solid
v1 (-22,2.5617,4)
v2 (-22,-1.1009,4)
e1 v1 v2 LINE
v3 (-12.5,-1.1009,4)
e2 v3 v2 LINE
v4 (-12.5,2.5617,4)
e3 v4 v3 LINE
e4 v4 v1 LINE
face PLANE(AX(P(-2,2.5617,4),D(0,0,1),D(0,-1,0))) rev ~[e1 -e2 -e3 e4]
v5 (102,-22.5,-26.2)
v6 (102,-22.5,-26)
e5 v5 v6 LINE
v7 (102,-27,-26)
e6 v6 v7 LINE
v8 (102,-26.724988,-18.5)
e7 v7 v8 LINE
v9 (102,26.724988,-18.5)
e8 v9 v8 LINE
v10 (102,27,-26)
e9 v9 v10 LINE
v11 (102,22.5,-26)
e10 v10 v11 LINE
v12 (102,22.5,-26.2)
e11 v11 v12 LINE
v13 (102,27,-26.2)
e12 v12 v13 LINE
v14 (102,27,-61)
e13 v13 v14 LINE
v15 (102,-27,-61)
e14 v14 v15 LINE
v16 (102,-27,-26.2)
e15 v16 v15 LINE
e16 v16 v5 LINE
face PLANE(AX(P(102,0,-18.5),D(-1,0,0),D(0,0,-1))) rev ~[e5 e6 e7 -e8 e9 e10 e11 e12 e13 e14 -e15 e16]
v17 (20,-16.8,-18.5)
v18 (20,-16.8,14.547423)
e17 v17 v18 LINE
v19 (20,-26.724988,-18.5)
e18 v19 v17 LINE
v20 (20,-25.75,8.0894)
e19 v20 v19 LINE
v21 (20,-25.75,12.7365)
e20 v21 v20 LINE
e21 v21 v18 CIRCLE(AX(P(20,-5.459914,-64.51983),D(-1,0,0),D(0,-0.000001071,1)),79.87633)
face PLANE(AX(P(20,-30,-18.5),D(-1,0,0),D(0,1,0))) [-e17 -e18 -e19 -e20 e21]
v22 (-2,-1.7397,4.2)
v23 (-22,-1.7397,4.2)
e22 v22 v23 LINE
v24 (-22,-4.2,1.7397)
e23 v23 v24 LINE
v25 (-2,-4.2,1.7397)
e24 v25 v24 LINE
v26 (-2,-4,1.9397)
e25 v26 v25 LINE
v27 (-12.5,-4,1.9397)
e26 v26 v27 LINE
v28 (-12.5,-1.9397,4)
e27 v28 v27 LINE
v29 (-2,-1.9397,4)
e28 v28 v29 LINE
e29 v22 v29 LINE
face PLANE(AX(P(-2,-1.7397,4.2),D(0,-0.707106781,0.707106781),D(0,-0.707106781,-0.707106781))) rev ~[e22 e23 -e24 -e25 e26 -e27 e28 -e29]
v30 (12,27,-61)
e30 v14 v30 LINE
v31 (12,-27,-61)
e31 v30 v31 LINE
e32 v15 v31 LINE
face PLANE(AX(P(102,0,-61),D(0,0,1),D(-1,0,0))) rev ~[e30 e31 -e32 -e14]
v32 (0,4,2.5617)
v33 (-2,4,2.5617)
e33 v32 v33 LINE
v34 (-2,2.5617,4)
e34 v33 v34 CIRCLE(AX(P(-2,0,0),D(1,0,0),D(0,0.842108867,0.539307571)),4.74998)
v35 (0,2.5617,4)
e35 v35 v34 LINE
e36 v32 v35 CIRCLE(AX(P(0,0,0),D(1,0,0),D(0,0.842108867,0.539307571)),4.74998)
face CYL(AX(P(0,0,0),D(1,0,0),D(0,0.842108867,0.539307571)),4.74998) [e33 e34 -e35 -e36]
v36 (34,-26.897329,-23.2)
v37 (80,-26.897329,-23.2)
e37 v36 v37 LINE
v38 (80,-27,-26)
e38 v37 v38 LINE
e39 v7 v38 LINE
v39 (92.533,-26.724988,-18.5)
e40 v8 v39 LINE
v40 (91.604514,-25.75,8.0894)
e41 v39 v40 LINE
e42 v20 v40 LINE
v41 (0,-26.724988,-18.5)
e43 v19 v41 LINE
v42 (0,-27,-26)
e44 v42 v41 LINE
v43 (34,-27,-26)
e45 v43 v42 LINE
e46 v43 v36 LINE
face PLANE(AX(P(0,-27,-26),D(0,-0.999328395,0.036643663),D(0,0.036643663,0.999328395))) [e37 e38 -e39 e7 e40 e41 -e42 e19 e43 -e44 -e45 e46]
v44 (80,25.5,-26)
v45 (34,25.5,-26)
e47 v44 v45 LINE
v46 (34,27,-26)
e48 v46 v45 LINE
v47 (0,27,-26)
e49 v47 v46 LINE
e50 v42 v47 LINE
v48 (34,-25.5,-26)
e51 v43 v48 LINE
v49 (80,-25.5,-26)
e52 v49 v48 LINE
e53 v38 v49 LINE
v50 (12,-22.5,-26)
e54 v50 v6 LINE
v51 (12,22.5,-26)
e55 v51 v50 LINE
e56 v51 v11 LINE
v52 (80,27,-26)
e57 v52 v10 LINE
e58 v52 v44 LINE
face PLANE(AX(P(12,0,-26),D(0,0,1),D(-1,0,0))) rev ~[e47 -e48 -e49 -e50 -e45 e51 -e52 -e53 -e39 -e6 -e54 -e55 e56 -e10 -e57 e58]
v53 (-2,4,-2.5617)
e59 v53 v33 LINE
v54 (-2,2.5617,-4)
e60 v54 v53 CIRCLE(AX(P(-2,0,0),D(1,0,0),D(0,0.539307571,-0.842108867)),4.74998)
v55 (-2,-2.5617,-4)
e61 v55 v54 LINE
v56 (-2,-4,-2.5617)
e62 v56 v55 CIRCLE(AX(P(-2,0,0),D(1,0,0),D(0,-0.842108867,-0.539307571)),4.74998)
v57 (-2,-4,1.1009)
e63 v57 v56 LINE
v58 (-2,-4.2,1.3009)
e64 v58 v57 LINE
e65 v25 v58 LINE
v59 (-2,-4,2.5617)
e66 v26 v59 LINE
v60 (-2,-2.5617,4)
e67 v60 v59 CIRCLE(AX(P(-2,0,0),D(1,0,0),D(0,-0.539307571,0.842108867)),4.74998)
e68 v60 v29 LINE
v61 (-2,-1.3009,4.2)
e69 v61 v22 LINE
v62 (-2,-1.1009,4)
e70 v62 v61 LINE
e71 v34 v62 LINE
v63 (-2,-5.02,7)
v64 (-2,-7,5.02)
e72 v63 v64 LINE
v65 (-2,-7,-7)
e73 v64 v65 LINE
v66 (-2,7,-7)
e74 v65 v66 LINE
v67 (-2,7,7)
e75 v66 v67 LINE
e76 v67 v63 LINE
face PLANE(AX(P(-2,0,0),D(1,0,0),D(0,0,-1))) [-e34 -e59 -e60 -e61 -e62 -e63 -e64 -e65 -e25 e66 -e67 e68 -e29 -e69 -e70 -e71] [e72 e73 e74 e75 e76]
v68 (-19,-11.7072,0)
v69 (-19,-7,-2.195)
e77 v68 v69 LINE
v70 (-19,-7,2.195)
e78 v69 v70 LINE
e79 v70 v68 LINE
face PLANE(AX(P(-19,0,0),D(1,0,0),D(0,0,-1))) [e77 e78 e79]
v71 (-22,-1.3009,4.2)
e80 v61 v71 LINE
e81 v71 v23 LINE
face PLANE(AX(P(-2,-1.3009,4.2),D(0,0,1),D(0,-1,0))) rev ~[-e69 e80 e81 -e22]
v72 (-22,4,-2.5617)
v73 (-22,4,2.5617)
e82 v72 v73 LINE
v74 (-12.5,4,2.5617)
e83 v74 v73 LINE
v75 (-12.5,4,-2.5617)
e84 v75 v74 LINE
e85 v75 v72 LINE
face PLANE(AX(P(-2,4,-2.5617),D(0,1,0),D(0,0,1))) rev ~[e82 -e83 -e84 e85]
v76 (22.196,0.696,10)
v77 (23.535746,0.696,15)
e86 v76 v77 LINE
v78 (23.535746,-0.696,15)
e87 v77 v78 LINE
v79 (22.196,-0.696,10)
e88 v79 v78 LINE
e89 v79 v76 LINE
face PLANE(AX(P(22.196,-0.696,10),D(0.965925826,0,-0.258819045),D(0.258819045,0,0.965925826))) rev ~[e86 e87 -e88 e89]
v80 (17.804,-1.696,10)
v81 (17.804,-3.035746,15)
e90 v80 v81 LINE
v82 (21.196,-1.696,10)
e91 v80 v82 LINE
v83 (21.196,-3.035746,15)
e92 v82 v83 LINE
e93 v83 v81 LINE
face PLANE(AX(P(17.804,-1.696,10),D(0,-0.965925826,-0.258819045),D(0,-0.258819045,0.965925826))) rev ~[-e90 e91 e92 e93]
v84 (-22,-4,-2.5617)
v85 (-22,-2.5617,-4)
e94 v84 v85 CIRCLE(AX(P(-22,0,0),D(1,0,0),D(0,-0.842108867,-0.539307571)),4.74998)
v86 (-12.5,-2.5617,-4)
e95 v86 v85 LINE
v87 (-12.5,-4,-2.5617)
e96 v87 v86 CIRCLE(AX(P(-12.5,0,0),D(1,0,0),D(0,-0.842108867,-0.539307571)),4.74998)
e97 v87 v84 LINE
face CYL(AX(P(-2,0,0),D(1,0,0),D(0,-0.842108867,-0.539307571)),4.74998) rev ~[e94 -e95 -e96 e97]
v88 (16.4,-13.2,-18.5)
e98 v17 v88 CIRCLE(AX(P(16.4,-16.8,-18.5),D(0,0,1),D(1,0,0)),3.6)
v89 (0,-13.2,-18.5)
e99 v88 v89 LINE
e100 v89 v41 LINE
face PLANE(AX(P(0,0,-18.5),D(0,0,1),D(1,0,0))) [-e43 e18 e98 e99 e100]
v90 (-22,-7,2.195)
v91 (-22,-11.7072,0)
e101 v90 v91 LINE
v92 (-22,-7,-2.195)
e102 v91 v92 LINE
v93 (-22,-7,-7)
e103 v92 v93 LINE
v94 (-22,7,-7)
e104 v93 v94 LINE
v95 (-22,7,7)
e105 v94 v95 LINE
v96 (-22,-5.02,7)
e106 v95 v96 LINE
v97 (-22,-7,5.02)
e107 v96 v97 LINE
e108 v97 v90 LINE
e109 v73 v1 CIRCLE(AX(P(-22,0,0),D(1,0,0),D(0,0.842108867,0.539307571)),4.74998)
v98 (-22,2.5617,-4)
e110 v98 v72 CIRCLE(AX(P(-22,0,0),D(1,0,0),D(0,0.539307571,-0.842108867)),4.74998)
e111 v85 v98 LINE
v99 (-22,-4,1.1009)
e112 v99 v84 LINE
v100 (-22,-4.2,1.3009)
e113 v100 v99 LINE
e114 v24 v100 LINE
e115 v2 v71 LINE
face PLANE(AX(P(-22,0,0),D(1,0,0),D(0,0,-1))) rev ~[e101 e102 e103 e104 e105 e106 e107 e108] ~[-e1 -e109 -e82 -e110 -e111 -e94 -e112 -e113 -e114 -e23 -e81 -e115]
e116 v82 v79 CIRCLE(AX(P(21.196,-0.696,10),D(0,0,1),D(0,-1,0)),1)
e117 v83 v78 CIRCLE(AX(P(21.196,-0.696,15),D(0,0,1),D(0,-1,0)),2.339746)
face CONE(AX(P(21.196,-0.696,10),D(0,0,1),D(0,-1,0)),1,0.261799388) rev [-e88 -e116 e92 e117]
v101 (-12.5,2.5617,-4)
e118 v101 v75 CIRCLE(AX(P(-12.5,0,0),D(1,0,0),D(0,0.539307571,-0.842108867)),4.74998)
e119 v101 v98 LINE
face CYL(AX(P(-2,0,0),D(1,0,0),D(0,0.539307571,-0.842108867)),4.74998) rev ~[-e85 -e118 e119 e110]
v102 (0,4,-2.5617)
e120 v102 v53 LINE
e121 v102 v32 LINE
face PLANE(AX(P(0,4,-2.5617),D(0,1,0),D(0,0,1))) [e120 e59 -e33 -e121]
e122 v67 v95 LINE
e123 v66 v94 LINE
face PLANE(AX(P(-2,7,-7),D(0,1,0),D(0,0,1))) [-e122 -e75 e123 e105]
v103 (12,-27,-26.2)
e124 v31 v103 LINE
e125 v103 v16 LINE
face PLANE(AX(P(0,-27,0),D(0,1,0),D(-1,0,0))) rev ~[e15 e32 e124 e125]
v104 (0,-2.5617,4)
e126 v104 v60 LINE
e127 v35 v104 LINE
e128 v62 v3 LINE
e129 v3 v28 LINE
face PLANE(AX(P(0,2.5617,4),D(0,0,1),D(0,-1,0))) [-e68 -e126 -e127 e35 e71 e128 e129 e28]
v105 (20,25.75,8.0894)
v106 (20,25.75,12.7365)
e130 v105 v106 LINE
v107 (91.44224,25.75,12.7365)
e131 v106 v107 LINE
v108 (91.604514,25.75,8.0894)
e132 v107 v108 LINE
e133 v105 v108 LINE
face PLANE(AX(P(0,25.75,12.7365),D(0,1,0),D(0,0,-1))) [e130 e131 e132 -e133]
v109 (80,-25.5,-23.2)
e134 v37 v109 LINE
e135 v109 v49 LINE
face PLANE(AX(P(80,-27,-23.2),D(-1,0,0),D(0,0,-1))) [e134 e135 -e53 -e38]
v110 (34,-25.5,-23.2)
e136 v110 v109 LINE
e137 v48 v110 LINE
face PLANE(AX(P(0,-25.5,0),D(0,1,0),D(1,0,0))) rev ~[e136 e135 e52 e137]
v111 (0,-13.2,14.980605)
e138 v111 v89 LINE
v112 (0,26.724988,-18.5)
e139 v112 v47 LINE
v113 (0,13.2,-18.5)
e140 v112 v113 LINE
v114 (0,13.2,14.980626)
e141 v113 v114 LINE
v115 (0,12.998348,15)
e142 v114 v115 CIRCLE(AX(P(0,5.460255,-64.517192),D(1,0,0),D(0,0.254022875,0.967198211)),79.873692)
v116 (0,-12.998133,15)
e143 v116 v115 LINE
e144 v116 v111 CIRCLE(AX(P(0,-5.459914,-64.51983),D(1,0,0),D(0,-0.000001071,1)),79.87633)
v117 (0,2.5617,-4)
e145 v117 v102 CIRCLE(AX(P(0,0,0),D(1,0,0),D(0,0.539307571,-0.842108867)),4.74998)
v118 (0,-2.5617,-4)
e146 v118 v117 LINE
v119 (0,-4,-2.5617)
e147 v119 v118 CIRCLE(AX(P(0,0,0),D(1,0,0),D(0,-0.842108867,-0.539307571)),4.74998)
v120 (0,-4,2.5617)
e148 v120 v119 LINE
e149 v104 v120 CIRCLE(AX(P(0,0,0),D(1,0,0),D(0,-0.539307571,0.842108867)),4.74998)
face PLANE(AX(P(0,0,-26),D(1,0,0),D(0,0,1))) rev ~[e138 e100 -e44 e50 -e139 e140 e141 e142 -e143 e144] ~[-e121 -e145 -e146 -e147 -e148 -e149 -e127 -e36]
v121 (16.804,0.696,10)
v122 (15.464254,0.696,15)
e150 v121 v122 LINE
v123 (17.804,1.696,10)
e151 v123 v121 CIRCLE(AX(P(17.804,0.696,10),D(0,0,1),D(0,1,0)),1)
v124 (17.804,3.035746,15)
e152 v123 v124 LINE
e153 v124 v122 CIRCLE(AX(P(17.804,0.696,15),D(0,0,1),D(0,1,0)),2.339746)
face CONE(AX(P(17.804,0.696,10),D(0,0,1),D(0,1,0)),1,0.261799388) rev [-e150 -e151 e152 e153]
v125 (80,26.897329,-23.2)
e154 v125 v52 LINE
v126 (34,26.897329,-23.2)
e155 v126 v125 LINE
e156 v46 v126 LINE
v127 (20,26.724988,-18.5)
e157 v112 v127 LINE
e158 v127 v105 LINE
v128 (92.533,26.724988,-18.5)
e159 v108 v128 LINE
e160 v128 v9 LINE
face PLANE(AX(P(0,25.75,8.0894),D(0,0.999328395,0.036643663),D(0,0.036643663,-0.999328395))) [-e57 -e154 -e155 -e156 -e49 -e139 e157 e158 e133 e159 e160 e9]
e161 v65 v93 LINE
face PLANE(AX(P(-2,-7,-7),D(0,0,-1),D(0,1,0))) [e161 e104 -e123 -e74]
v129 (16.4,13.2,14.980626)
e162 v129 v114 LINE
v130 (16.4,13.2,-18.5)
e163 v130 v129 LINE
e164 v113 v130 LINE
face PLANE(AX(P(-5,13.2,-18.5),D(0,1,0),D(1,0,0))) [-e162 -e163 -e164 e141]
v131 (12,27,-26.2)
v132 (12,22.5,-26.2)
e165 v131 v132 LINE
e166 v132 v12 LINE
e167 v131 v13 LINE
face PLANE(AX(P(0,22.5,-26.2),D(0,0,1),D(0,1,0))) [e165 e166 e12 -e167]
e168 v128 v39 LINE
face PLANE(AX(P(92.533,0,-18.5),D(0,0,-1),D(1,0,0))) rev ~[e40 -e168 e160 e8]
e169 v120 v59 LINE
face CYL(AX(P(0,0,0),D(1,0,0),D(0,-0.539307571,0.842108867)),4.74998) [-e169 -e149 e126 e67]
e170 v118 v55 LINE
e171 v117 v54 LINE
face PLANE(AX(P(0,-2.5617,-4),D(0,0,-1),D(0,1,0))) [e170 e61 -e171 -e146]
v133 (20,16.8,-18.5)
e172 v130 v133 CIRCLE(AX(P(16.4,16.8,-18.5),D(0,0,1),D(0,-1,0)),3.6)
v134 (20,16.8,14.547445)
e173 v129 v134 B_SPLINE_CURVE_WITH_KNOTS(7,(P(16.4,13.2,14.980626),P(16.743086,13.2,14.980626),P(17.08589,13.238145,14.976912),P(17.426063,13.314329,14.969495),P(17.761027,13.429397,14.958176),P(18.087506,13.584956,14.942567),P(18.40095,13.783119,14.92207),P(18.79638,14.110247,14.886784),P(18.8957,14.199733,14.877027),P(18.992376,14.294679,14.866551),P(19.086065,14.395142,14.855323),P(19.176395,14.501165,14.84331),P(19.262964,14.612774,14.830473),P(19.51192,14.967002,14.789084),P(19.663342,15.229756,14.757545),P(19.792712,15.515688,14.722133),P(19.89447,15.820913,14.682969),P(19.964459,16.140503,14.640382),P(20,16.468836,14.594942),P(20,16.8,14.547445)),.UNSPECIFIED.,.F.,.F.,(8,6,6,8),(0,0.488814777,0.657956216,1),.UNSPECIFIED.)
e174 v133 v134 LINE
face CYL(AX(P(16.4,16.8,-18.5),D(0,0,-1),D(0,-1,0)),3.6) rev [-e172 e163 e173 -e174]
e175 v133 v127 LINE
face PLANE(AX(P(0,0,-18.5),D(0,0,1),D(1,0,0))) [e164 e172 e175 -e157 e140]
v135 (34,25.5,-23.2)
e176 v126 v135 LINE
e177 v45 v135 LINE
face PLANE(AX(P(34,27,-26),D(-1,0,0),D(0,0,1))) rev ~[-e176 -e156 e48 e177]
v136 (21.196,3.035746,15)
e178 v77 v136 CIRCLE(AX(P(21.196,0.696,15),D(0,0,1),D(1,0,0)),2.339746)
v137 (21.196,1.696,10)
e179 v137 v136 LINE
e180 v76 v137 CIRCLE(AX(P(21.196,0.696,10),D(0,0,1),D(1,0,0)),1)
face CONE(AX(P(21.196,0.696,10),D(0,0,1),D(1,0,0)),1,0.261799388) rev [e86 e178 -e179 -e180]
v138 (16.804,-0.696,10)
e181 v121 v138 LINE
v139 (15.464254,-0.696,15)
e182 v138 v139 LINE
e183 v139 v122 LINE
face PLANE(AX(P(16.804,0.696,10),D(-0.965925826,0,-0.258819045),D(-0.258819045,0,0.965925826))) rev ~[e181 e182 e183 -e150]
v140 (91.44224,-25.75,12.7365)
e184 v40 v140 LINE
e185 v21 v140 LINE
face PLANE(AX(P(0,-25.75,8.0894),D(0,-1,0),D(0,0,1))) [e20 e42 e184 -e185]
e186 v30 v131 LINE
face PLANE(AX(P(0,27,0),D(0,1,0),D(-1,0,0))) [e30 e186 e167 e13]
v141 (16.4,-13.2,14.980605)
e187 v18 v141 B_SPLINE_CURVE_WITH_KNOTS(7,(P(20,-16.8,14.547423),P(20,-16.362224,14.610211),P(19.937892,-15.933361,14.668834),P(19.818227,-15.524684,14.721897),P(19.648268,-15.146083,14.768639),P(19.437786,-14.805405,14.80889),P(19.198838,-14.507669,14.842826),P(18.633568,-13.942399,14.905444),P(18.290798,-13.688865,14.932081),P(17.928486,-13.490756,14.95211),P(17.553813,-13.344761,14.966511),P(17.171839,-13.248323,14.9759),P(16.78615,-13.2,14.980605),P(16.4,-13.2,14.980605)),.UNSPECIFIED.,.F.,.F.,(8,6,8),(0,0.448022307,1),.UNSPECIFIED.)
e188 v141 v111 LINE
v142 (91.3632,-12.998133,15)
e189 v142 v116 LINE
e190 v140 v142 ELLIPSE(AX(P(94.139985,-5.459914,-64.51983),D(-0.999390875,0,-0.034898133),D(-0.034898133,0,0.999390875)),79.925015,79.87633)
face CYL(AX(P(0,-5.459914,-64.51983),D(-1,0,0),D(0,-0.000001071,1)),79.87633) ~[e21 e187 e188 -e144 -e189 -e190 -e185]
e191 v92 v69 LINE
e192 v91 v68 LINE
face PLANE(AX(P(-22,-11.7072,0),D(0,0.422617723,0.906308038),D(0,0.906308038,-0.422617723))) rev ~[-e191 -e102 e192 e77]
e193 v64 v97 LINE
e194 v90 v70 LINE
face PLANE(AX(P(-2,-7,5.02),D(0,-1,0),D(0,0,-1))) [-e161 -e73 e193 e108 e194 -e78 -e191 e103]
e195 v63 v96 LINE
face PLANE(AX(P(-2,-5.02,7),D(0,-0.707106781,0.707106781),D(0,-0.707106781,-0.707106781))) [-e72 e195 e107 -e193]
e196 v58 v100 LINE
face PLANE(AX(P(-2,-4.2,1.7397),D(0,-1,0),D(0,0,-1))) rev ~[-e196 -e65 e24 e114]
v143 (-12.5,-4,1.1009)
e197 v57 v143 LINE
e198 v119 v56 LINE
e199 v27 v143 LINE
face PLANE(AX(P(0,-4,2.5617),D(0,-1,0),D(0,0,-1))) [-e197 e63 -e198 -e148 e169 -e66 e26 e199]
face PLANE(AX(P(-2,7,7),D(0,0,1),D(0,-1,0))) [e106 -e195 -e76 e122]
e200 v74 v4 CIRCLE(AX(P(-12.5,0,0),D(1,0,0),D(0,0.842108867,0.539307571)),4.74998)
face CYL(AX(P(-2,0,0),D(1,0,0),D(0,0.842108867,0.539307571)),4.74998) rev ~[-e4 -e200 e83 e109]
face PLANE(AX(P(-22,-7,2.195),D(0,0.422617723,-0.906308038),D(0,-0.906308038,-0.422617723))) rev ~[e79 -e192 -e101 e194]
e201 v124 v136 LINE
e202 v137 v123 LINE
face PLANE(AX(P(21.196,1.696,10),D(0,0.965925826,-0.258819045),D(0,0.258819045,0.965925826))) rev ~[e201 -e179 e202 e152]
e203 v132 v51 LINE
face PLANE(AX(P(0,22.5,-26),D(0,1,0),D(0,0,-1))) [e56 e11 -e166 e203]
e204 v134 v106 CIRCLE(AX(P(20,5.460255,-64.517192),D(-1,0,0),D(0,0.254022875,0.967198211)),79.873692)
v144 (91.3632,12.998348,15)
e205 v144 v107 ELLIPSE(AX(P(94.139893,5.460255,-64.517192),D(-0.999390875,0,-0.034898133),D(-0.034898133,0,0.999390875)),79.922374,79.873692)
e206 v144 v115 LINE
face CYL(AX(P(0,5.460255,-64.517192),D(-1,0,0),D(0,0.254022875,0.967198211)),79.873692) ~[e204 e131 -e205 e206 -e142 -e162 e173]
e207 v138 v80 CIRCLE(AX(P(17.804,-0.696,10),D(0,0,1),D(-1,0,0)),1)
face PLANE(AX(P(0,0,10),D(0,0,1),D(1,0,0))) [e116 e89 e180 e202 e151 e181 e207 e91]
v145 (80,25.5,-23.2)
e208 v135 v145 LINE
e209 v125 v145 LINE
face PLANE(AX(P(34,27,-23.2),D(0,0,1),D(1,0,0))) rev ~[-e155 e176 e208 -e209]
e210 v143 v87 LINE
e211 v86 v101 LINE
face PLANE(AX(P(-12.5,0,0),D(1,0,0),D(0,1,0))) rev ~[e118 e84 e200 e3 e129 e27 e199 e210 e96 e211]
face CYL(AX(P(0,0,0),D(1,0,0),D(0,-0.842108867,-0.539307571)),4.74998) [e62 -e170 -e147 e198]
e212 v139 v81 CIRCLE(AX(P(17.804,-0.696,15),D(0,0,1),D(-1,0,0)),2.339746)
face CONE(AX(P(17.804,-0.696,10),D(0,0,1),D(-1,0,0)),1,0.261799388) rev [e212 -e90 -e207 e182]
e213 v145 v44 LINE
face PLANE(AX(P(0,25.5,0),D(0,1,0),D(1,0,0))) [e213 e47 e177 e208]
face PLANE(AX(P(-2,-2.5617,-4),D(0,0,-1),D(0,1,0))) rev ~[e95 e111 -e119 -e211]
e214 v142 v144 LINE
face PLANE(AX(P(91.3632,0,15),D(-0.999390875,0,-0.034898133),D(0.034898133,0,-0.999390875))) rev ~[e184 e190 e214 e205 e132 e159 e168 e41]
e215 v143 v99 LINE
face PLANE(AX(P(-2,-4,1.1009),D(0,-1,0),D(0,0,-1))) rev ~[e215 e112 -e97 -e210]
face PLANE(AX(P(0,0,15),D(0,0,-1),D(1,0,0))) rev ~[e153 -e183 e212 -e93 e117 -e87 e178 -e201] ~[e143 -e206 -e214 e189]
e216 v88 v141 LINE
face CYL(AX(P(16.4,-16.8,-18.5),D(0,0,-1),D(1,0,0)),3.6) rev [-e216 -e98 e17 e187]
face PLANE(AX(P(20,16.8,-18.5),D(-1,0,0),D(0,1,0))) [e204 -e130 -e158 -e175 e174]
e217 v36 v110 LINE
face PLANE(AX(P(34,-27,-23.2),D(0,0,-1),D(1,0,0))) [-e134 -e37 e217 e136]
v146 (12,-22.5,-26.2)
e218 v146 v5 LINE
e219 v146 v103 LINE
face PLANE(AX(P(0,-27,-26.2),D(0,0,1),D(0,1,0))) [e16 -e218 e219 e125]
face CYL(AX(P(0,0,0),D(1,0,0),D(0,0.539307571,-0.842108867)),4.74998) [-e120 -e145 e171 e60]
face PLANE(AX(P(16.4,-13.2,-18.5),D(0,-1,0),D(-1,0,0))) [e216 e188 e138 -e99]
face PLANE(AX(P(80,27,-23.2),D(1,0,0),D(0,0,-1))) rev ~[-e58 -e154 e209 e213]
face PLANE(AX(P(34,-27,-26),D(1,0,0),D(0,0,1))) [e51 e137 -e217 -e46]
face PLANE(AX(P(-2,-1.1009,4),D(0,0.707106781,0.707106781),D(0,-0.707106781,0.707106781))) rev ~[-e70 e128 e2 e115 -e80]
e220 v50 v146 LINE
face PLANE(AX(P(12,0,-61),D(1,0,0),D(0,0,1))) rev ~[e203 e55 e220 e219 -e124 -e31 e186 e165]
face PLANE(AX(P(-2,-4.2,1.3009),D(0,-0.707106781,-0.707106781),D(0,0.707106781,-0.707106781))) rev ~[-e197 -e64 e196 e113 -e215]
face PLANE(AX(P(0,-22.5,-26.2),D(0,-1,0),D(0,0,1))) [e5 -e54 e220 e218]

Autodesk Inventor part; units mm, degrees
sketch "Sketch_2" plane through (0, 0, 0) normal (0, 1, 0) x (-1, 0, 0)
  line L0 (0, -26) -> (0, 15)
  line L1 (0, 15) -> (-91.3632, 15)
  line L2 (-91.3632, 15) -> (-92.533, -18.5)
  line L3 (-92.533, -18.5) -> (-102, -18.5)
  line L4 (-102, -18.5) -> (-102, -61)
  line L5 (-102, -61) -> (-12, -61)
  line L6 (-12, -61) -> (-12, -26)
  line L7 (-12, -26) -> (0, -26)
extrude "Extrusion1" add sketch "Sketch_2" along normal mid plane 54
sketch "Sketch_3" plane through (0, 0, 0) normal (1, 0, 0) x (0, 1, 0)
  line L0 (-30, 19) -> (-30, -26)
  line L1 (-30, -26) -> (-27, -26)
  line L2 (-27, -26) -> (-25.75, 8.0894)
  line L3 (-25.75, 8.0894) -> (-25.75, 12.7365)
  arc A0 (-5.46, 15.3565) -> (-25.75, 12.7365) centre (-5.46, -64.5185) ccw
  line L4 (-5.46, 15.3565) -> (5.46, 15.3565)
  arc A1 (25.75, 12.7365) -> (5.46, 15.3565) centre (5.46, -64.5185) ccw
  line L5 (25.75, 12.7365) -> (25.75, 8.0894)
  line L6 (25.75, 8.0894) -> (27, -26)
  line L7 (27, -26) -> (30, -26)
  line L8 (30, -26) -> (30, 19)
  line L9 (30, 19) -> (-30, 19)
extrude "Extrusion2" cut sketch "Sketch_3" along normal blind 102
sketch "Sketch_4" plane through (0, 0, 0) normal (1, 0, 0) x (0, 1, 0)
  line L0 (22.5, -26) -> (22.5, -26.2)
  line L1 (22.5, -26.2) -> (27, -26.2)
  line L2 (27, -26.2) -> (27, -26)
  line L3 (27, -26) -> (22.5, -26)
extrude "Extrusion3" cut sketch "Sketch_4" along normal blind 102
sketch "Sketch_5" plane through (0, 0, 0) normal (1, 0, 0) x (0, 1, 0)
  line L0 (-22.5, -26) -> (-27, -26)
  line L1 (-27, -26) -> (-27, -26.2)
  line L2 (-27, -26.2) -> (-22.5, -26.2)
  line L3 (-22.5, -26.2) -> (-22.5, -26)
extrude "Extrusion4" cut sketch "Sketch_5" along normal blind 102
sketch "Sketch_6" plane through (0, 27, 0) normal (0, 1, 0) x (1, 0, 0)
  line L0 (34, 23.2) -> (80, 23.2)
  line L1 (80, 23.2) -> (80, 26)
  line L2 (80, 26) -> (34, 26)
  line L3 (34, 26) -> (34, 23.2)
extrude "Extrusion5" cut sketch "Sketch_6" against normal blind 1.5
sketch "Sketch_7" plane through (0, -27, 0) normal (0, 1, 0) x (1, 0, 0)
  line L0 (34, 23.2) -> (80, 23.2)
  line L1 (80, 23.2) -> (80, 26)
  line L2 (80, 26) -> (34, 26)
  line L3 (34, 26) -> (34, 23.2)
extrude "Extrusion6" cut sketch "Sketch_7" along normal blind 1.5
sketch "Sketch_8" plane through (0, 0, -18.5) normal (0, 0, 1) x (1, 0, 0)
  line L0 (-10, -30) -> (20, -30)
  line L1 (20, -30) -> (20, -16.8)
  arc A0 (20, -16.8) -> (16.4, -13.2) centre (16.4, -16.8) ccw
  line L2 (16.4, -13.2) -> (-5, -13.2)
  line L3 (-5, -13.2) -> (-5, 13.2)
  line L4 (-5, 13.2) -> (16.4, 13.2)
  arc A1 (16.4, 13.2) -> (20, 16.8) centre (16.4, 16.8) ccw
  line L5 (20, 16.8) -> (20, 30)
  line L6 (20, 30) -> (-10, 30)
  line L7 (-10, 30) -> (-10, -30)
extrude "Extrusion7" cut sketch "Sketch_8" along normal blind 38.5
sketch "Sketch_9" plane through (0, 0, 0) normal (1, 0, 0) x (0, 1, 0)
  arc A0 (-2.5617, 4) -> (-4, 2.5617) centre (0, 0) ccw
  line L0 (-4, 2.5617) -> (-4, -2.5617)
  arc A1 (-4, -2.5617) -> (-2.5617, -4) centre (0, 0) ccw
  line L1 (-2.5617, -4) -> (2.5617, -4)
  arc A2 (2.5617, -4) -> (4, -2.5617) centre (0, 0) ccw
  line L2 (4, -2.5617) -> (4, 2.5617)
  arc A3 (4, 2.5617) -> (2.5617, 4) centre (0, 0) ccw
  line L3 (2.5617, 4) -> (-2.5617, 4)
extrude "Extrusion8" add sketch "Sketch_9" against normal blind 12.5
sketch "Sketch_10" plane through (-2, 0, 0) normal (1, 0, 0) x (0, 0, -1)
  line L0 (-7, -5.02) -> (-5.02, -7)
  line L1 (-5.02, -7) -> (7, -7)
  line L2 (7, -7) -> (7, 7)
  line L3 (7, 7) -> (-7, 7)
  line L4 (-7, 7) -> (-7, -5.02)
  line L5 (-4.2, -1.3009) -> (-4.2, -1.7397)
  line L6 (-4.2, -1.7397) -> (-1.7397, -4.2)
  line L7 (-1.7397, -4.2) -> (-1.3009, -4.2)
  line L8 (-1.3009, -4.2) -> (-1.1009, -4)
  line L9 (-1.1009, -4) -> (2.5617, -4)
  arc A0 (2.5617, -4) -> (4, -2.5617) centre (0, 0) ccw
  line L10 (4, -2.5617) -> (4, 2.5617)
  arc A1 (4, 2.5617) -> (2.5617, 4) centre (0, 0) ccw
  line L11 (2.5617, 4) -> (-2.5617, 4)
  arc A2 (-2.5617, 4) -> (-4, 2.5617) centre (0, 0) ccw
  line L12 (-4, 2.5617) -> (-4, -1.1009)
  line L13 (-4, -1.1009) -> (-4.2, -1.3009)
extrude "Extrusion9" add sketch "Sketch_10" against normal blind 20
sketch "Sketch_11" plane through (-22, 0, 0) normal (1, 0, 0) x (0, 0, -1)
  line L0 (-2.195, -7) -> (0, -11.7072)
  line L1 (0, -11.7072) -> (2.195, -7)
  line L2 (2.195, -7) -> (-2.195, -7)
extrude "Extrusion10" add sketch "Sketch_11" along normal blind 3
sketch "Sketch_1" plane through (0, 0, 10) normal (0, 0, 1) x (1, 0, 0)
  line L0 (16.804, 0.696) -> (16.804, -0.696)
  arc A0 (16.804, -0.696) -> (17.804, -1.696) centre (17.804, -0.696) ccw
  line L1 (17.804, -1.696) -> (21.196, -1.696)
  arc A1 (21.196, -1.696) -> (22.196, -0.696) centre (21.196, -0.696) ccw
  line L2 (22.196, -0.696) -> (22.196, 0.696)
  arc A2 (22.196, 0.696) -> (21.196, 1.696) centre (21.196, 0.696) ccw
  line L3 (21.196, 1.696) -> (17.804, 1.696)
  arc A3 (17.804, 1.696) -> (16.804, 0.696) centre (17.804, 0.696) ccw
extrude "Extrusion11" cut sketch "Sketch_1" along normal blind 8 draft 15
ref_plane "P3_XY" through (-12.5, 0, 0) normal (1, 0, 0) x (0, 0, -1)
ref_plane "P3_YZ" through (-12.5, 0, 0) normal (0, 0, -1) x (0, 1, 0)
ref_plane "P3_ZX" through (-12.5, 0, 0) normal (0, 1, 0) x (1, 0, 0)
properties part number "100031_P3"
